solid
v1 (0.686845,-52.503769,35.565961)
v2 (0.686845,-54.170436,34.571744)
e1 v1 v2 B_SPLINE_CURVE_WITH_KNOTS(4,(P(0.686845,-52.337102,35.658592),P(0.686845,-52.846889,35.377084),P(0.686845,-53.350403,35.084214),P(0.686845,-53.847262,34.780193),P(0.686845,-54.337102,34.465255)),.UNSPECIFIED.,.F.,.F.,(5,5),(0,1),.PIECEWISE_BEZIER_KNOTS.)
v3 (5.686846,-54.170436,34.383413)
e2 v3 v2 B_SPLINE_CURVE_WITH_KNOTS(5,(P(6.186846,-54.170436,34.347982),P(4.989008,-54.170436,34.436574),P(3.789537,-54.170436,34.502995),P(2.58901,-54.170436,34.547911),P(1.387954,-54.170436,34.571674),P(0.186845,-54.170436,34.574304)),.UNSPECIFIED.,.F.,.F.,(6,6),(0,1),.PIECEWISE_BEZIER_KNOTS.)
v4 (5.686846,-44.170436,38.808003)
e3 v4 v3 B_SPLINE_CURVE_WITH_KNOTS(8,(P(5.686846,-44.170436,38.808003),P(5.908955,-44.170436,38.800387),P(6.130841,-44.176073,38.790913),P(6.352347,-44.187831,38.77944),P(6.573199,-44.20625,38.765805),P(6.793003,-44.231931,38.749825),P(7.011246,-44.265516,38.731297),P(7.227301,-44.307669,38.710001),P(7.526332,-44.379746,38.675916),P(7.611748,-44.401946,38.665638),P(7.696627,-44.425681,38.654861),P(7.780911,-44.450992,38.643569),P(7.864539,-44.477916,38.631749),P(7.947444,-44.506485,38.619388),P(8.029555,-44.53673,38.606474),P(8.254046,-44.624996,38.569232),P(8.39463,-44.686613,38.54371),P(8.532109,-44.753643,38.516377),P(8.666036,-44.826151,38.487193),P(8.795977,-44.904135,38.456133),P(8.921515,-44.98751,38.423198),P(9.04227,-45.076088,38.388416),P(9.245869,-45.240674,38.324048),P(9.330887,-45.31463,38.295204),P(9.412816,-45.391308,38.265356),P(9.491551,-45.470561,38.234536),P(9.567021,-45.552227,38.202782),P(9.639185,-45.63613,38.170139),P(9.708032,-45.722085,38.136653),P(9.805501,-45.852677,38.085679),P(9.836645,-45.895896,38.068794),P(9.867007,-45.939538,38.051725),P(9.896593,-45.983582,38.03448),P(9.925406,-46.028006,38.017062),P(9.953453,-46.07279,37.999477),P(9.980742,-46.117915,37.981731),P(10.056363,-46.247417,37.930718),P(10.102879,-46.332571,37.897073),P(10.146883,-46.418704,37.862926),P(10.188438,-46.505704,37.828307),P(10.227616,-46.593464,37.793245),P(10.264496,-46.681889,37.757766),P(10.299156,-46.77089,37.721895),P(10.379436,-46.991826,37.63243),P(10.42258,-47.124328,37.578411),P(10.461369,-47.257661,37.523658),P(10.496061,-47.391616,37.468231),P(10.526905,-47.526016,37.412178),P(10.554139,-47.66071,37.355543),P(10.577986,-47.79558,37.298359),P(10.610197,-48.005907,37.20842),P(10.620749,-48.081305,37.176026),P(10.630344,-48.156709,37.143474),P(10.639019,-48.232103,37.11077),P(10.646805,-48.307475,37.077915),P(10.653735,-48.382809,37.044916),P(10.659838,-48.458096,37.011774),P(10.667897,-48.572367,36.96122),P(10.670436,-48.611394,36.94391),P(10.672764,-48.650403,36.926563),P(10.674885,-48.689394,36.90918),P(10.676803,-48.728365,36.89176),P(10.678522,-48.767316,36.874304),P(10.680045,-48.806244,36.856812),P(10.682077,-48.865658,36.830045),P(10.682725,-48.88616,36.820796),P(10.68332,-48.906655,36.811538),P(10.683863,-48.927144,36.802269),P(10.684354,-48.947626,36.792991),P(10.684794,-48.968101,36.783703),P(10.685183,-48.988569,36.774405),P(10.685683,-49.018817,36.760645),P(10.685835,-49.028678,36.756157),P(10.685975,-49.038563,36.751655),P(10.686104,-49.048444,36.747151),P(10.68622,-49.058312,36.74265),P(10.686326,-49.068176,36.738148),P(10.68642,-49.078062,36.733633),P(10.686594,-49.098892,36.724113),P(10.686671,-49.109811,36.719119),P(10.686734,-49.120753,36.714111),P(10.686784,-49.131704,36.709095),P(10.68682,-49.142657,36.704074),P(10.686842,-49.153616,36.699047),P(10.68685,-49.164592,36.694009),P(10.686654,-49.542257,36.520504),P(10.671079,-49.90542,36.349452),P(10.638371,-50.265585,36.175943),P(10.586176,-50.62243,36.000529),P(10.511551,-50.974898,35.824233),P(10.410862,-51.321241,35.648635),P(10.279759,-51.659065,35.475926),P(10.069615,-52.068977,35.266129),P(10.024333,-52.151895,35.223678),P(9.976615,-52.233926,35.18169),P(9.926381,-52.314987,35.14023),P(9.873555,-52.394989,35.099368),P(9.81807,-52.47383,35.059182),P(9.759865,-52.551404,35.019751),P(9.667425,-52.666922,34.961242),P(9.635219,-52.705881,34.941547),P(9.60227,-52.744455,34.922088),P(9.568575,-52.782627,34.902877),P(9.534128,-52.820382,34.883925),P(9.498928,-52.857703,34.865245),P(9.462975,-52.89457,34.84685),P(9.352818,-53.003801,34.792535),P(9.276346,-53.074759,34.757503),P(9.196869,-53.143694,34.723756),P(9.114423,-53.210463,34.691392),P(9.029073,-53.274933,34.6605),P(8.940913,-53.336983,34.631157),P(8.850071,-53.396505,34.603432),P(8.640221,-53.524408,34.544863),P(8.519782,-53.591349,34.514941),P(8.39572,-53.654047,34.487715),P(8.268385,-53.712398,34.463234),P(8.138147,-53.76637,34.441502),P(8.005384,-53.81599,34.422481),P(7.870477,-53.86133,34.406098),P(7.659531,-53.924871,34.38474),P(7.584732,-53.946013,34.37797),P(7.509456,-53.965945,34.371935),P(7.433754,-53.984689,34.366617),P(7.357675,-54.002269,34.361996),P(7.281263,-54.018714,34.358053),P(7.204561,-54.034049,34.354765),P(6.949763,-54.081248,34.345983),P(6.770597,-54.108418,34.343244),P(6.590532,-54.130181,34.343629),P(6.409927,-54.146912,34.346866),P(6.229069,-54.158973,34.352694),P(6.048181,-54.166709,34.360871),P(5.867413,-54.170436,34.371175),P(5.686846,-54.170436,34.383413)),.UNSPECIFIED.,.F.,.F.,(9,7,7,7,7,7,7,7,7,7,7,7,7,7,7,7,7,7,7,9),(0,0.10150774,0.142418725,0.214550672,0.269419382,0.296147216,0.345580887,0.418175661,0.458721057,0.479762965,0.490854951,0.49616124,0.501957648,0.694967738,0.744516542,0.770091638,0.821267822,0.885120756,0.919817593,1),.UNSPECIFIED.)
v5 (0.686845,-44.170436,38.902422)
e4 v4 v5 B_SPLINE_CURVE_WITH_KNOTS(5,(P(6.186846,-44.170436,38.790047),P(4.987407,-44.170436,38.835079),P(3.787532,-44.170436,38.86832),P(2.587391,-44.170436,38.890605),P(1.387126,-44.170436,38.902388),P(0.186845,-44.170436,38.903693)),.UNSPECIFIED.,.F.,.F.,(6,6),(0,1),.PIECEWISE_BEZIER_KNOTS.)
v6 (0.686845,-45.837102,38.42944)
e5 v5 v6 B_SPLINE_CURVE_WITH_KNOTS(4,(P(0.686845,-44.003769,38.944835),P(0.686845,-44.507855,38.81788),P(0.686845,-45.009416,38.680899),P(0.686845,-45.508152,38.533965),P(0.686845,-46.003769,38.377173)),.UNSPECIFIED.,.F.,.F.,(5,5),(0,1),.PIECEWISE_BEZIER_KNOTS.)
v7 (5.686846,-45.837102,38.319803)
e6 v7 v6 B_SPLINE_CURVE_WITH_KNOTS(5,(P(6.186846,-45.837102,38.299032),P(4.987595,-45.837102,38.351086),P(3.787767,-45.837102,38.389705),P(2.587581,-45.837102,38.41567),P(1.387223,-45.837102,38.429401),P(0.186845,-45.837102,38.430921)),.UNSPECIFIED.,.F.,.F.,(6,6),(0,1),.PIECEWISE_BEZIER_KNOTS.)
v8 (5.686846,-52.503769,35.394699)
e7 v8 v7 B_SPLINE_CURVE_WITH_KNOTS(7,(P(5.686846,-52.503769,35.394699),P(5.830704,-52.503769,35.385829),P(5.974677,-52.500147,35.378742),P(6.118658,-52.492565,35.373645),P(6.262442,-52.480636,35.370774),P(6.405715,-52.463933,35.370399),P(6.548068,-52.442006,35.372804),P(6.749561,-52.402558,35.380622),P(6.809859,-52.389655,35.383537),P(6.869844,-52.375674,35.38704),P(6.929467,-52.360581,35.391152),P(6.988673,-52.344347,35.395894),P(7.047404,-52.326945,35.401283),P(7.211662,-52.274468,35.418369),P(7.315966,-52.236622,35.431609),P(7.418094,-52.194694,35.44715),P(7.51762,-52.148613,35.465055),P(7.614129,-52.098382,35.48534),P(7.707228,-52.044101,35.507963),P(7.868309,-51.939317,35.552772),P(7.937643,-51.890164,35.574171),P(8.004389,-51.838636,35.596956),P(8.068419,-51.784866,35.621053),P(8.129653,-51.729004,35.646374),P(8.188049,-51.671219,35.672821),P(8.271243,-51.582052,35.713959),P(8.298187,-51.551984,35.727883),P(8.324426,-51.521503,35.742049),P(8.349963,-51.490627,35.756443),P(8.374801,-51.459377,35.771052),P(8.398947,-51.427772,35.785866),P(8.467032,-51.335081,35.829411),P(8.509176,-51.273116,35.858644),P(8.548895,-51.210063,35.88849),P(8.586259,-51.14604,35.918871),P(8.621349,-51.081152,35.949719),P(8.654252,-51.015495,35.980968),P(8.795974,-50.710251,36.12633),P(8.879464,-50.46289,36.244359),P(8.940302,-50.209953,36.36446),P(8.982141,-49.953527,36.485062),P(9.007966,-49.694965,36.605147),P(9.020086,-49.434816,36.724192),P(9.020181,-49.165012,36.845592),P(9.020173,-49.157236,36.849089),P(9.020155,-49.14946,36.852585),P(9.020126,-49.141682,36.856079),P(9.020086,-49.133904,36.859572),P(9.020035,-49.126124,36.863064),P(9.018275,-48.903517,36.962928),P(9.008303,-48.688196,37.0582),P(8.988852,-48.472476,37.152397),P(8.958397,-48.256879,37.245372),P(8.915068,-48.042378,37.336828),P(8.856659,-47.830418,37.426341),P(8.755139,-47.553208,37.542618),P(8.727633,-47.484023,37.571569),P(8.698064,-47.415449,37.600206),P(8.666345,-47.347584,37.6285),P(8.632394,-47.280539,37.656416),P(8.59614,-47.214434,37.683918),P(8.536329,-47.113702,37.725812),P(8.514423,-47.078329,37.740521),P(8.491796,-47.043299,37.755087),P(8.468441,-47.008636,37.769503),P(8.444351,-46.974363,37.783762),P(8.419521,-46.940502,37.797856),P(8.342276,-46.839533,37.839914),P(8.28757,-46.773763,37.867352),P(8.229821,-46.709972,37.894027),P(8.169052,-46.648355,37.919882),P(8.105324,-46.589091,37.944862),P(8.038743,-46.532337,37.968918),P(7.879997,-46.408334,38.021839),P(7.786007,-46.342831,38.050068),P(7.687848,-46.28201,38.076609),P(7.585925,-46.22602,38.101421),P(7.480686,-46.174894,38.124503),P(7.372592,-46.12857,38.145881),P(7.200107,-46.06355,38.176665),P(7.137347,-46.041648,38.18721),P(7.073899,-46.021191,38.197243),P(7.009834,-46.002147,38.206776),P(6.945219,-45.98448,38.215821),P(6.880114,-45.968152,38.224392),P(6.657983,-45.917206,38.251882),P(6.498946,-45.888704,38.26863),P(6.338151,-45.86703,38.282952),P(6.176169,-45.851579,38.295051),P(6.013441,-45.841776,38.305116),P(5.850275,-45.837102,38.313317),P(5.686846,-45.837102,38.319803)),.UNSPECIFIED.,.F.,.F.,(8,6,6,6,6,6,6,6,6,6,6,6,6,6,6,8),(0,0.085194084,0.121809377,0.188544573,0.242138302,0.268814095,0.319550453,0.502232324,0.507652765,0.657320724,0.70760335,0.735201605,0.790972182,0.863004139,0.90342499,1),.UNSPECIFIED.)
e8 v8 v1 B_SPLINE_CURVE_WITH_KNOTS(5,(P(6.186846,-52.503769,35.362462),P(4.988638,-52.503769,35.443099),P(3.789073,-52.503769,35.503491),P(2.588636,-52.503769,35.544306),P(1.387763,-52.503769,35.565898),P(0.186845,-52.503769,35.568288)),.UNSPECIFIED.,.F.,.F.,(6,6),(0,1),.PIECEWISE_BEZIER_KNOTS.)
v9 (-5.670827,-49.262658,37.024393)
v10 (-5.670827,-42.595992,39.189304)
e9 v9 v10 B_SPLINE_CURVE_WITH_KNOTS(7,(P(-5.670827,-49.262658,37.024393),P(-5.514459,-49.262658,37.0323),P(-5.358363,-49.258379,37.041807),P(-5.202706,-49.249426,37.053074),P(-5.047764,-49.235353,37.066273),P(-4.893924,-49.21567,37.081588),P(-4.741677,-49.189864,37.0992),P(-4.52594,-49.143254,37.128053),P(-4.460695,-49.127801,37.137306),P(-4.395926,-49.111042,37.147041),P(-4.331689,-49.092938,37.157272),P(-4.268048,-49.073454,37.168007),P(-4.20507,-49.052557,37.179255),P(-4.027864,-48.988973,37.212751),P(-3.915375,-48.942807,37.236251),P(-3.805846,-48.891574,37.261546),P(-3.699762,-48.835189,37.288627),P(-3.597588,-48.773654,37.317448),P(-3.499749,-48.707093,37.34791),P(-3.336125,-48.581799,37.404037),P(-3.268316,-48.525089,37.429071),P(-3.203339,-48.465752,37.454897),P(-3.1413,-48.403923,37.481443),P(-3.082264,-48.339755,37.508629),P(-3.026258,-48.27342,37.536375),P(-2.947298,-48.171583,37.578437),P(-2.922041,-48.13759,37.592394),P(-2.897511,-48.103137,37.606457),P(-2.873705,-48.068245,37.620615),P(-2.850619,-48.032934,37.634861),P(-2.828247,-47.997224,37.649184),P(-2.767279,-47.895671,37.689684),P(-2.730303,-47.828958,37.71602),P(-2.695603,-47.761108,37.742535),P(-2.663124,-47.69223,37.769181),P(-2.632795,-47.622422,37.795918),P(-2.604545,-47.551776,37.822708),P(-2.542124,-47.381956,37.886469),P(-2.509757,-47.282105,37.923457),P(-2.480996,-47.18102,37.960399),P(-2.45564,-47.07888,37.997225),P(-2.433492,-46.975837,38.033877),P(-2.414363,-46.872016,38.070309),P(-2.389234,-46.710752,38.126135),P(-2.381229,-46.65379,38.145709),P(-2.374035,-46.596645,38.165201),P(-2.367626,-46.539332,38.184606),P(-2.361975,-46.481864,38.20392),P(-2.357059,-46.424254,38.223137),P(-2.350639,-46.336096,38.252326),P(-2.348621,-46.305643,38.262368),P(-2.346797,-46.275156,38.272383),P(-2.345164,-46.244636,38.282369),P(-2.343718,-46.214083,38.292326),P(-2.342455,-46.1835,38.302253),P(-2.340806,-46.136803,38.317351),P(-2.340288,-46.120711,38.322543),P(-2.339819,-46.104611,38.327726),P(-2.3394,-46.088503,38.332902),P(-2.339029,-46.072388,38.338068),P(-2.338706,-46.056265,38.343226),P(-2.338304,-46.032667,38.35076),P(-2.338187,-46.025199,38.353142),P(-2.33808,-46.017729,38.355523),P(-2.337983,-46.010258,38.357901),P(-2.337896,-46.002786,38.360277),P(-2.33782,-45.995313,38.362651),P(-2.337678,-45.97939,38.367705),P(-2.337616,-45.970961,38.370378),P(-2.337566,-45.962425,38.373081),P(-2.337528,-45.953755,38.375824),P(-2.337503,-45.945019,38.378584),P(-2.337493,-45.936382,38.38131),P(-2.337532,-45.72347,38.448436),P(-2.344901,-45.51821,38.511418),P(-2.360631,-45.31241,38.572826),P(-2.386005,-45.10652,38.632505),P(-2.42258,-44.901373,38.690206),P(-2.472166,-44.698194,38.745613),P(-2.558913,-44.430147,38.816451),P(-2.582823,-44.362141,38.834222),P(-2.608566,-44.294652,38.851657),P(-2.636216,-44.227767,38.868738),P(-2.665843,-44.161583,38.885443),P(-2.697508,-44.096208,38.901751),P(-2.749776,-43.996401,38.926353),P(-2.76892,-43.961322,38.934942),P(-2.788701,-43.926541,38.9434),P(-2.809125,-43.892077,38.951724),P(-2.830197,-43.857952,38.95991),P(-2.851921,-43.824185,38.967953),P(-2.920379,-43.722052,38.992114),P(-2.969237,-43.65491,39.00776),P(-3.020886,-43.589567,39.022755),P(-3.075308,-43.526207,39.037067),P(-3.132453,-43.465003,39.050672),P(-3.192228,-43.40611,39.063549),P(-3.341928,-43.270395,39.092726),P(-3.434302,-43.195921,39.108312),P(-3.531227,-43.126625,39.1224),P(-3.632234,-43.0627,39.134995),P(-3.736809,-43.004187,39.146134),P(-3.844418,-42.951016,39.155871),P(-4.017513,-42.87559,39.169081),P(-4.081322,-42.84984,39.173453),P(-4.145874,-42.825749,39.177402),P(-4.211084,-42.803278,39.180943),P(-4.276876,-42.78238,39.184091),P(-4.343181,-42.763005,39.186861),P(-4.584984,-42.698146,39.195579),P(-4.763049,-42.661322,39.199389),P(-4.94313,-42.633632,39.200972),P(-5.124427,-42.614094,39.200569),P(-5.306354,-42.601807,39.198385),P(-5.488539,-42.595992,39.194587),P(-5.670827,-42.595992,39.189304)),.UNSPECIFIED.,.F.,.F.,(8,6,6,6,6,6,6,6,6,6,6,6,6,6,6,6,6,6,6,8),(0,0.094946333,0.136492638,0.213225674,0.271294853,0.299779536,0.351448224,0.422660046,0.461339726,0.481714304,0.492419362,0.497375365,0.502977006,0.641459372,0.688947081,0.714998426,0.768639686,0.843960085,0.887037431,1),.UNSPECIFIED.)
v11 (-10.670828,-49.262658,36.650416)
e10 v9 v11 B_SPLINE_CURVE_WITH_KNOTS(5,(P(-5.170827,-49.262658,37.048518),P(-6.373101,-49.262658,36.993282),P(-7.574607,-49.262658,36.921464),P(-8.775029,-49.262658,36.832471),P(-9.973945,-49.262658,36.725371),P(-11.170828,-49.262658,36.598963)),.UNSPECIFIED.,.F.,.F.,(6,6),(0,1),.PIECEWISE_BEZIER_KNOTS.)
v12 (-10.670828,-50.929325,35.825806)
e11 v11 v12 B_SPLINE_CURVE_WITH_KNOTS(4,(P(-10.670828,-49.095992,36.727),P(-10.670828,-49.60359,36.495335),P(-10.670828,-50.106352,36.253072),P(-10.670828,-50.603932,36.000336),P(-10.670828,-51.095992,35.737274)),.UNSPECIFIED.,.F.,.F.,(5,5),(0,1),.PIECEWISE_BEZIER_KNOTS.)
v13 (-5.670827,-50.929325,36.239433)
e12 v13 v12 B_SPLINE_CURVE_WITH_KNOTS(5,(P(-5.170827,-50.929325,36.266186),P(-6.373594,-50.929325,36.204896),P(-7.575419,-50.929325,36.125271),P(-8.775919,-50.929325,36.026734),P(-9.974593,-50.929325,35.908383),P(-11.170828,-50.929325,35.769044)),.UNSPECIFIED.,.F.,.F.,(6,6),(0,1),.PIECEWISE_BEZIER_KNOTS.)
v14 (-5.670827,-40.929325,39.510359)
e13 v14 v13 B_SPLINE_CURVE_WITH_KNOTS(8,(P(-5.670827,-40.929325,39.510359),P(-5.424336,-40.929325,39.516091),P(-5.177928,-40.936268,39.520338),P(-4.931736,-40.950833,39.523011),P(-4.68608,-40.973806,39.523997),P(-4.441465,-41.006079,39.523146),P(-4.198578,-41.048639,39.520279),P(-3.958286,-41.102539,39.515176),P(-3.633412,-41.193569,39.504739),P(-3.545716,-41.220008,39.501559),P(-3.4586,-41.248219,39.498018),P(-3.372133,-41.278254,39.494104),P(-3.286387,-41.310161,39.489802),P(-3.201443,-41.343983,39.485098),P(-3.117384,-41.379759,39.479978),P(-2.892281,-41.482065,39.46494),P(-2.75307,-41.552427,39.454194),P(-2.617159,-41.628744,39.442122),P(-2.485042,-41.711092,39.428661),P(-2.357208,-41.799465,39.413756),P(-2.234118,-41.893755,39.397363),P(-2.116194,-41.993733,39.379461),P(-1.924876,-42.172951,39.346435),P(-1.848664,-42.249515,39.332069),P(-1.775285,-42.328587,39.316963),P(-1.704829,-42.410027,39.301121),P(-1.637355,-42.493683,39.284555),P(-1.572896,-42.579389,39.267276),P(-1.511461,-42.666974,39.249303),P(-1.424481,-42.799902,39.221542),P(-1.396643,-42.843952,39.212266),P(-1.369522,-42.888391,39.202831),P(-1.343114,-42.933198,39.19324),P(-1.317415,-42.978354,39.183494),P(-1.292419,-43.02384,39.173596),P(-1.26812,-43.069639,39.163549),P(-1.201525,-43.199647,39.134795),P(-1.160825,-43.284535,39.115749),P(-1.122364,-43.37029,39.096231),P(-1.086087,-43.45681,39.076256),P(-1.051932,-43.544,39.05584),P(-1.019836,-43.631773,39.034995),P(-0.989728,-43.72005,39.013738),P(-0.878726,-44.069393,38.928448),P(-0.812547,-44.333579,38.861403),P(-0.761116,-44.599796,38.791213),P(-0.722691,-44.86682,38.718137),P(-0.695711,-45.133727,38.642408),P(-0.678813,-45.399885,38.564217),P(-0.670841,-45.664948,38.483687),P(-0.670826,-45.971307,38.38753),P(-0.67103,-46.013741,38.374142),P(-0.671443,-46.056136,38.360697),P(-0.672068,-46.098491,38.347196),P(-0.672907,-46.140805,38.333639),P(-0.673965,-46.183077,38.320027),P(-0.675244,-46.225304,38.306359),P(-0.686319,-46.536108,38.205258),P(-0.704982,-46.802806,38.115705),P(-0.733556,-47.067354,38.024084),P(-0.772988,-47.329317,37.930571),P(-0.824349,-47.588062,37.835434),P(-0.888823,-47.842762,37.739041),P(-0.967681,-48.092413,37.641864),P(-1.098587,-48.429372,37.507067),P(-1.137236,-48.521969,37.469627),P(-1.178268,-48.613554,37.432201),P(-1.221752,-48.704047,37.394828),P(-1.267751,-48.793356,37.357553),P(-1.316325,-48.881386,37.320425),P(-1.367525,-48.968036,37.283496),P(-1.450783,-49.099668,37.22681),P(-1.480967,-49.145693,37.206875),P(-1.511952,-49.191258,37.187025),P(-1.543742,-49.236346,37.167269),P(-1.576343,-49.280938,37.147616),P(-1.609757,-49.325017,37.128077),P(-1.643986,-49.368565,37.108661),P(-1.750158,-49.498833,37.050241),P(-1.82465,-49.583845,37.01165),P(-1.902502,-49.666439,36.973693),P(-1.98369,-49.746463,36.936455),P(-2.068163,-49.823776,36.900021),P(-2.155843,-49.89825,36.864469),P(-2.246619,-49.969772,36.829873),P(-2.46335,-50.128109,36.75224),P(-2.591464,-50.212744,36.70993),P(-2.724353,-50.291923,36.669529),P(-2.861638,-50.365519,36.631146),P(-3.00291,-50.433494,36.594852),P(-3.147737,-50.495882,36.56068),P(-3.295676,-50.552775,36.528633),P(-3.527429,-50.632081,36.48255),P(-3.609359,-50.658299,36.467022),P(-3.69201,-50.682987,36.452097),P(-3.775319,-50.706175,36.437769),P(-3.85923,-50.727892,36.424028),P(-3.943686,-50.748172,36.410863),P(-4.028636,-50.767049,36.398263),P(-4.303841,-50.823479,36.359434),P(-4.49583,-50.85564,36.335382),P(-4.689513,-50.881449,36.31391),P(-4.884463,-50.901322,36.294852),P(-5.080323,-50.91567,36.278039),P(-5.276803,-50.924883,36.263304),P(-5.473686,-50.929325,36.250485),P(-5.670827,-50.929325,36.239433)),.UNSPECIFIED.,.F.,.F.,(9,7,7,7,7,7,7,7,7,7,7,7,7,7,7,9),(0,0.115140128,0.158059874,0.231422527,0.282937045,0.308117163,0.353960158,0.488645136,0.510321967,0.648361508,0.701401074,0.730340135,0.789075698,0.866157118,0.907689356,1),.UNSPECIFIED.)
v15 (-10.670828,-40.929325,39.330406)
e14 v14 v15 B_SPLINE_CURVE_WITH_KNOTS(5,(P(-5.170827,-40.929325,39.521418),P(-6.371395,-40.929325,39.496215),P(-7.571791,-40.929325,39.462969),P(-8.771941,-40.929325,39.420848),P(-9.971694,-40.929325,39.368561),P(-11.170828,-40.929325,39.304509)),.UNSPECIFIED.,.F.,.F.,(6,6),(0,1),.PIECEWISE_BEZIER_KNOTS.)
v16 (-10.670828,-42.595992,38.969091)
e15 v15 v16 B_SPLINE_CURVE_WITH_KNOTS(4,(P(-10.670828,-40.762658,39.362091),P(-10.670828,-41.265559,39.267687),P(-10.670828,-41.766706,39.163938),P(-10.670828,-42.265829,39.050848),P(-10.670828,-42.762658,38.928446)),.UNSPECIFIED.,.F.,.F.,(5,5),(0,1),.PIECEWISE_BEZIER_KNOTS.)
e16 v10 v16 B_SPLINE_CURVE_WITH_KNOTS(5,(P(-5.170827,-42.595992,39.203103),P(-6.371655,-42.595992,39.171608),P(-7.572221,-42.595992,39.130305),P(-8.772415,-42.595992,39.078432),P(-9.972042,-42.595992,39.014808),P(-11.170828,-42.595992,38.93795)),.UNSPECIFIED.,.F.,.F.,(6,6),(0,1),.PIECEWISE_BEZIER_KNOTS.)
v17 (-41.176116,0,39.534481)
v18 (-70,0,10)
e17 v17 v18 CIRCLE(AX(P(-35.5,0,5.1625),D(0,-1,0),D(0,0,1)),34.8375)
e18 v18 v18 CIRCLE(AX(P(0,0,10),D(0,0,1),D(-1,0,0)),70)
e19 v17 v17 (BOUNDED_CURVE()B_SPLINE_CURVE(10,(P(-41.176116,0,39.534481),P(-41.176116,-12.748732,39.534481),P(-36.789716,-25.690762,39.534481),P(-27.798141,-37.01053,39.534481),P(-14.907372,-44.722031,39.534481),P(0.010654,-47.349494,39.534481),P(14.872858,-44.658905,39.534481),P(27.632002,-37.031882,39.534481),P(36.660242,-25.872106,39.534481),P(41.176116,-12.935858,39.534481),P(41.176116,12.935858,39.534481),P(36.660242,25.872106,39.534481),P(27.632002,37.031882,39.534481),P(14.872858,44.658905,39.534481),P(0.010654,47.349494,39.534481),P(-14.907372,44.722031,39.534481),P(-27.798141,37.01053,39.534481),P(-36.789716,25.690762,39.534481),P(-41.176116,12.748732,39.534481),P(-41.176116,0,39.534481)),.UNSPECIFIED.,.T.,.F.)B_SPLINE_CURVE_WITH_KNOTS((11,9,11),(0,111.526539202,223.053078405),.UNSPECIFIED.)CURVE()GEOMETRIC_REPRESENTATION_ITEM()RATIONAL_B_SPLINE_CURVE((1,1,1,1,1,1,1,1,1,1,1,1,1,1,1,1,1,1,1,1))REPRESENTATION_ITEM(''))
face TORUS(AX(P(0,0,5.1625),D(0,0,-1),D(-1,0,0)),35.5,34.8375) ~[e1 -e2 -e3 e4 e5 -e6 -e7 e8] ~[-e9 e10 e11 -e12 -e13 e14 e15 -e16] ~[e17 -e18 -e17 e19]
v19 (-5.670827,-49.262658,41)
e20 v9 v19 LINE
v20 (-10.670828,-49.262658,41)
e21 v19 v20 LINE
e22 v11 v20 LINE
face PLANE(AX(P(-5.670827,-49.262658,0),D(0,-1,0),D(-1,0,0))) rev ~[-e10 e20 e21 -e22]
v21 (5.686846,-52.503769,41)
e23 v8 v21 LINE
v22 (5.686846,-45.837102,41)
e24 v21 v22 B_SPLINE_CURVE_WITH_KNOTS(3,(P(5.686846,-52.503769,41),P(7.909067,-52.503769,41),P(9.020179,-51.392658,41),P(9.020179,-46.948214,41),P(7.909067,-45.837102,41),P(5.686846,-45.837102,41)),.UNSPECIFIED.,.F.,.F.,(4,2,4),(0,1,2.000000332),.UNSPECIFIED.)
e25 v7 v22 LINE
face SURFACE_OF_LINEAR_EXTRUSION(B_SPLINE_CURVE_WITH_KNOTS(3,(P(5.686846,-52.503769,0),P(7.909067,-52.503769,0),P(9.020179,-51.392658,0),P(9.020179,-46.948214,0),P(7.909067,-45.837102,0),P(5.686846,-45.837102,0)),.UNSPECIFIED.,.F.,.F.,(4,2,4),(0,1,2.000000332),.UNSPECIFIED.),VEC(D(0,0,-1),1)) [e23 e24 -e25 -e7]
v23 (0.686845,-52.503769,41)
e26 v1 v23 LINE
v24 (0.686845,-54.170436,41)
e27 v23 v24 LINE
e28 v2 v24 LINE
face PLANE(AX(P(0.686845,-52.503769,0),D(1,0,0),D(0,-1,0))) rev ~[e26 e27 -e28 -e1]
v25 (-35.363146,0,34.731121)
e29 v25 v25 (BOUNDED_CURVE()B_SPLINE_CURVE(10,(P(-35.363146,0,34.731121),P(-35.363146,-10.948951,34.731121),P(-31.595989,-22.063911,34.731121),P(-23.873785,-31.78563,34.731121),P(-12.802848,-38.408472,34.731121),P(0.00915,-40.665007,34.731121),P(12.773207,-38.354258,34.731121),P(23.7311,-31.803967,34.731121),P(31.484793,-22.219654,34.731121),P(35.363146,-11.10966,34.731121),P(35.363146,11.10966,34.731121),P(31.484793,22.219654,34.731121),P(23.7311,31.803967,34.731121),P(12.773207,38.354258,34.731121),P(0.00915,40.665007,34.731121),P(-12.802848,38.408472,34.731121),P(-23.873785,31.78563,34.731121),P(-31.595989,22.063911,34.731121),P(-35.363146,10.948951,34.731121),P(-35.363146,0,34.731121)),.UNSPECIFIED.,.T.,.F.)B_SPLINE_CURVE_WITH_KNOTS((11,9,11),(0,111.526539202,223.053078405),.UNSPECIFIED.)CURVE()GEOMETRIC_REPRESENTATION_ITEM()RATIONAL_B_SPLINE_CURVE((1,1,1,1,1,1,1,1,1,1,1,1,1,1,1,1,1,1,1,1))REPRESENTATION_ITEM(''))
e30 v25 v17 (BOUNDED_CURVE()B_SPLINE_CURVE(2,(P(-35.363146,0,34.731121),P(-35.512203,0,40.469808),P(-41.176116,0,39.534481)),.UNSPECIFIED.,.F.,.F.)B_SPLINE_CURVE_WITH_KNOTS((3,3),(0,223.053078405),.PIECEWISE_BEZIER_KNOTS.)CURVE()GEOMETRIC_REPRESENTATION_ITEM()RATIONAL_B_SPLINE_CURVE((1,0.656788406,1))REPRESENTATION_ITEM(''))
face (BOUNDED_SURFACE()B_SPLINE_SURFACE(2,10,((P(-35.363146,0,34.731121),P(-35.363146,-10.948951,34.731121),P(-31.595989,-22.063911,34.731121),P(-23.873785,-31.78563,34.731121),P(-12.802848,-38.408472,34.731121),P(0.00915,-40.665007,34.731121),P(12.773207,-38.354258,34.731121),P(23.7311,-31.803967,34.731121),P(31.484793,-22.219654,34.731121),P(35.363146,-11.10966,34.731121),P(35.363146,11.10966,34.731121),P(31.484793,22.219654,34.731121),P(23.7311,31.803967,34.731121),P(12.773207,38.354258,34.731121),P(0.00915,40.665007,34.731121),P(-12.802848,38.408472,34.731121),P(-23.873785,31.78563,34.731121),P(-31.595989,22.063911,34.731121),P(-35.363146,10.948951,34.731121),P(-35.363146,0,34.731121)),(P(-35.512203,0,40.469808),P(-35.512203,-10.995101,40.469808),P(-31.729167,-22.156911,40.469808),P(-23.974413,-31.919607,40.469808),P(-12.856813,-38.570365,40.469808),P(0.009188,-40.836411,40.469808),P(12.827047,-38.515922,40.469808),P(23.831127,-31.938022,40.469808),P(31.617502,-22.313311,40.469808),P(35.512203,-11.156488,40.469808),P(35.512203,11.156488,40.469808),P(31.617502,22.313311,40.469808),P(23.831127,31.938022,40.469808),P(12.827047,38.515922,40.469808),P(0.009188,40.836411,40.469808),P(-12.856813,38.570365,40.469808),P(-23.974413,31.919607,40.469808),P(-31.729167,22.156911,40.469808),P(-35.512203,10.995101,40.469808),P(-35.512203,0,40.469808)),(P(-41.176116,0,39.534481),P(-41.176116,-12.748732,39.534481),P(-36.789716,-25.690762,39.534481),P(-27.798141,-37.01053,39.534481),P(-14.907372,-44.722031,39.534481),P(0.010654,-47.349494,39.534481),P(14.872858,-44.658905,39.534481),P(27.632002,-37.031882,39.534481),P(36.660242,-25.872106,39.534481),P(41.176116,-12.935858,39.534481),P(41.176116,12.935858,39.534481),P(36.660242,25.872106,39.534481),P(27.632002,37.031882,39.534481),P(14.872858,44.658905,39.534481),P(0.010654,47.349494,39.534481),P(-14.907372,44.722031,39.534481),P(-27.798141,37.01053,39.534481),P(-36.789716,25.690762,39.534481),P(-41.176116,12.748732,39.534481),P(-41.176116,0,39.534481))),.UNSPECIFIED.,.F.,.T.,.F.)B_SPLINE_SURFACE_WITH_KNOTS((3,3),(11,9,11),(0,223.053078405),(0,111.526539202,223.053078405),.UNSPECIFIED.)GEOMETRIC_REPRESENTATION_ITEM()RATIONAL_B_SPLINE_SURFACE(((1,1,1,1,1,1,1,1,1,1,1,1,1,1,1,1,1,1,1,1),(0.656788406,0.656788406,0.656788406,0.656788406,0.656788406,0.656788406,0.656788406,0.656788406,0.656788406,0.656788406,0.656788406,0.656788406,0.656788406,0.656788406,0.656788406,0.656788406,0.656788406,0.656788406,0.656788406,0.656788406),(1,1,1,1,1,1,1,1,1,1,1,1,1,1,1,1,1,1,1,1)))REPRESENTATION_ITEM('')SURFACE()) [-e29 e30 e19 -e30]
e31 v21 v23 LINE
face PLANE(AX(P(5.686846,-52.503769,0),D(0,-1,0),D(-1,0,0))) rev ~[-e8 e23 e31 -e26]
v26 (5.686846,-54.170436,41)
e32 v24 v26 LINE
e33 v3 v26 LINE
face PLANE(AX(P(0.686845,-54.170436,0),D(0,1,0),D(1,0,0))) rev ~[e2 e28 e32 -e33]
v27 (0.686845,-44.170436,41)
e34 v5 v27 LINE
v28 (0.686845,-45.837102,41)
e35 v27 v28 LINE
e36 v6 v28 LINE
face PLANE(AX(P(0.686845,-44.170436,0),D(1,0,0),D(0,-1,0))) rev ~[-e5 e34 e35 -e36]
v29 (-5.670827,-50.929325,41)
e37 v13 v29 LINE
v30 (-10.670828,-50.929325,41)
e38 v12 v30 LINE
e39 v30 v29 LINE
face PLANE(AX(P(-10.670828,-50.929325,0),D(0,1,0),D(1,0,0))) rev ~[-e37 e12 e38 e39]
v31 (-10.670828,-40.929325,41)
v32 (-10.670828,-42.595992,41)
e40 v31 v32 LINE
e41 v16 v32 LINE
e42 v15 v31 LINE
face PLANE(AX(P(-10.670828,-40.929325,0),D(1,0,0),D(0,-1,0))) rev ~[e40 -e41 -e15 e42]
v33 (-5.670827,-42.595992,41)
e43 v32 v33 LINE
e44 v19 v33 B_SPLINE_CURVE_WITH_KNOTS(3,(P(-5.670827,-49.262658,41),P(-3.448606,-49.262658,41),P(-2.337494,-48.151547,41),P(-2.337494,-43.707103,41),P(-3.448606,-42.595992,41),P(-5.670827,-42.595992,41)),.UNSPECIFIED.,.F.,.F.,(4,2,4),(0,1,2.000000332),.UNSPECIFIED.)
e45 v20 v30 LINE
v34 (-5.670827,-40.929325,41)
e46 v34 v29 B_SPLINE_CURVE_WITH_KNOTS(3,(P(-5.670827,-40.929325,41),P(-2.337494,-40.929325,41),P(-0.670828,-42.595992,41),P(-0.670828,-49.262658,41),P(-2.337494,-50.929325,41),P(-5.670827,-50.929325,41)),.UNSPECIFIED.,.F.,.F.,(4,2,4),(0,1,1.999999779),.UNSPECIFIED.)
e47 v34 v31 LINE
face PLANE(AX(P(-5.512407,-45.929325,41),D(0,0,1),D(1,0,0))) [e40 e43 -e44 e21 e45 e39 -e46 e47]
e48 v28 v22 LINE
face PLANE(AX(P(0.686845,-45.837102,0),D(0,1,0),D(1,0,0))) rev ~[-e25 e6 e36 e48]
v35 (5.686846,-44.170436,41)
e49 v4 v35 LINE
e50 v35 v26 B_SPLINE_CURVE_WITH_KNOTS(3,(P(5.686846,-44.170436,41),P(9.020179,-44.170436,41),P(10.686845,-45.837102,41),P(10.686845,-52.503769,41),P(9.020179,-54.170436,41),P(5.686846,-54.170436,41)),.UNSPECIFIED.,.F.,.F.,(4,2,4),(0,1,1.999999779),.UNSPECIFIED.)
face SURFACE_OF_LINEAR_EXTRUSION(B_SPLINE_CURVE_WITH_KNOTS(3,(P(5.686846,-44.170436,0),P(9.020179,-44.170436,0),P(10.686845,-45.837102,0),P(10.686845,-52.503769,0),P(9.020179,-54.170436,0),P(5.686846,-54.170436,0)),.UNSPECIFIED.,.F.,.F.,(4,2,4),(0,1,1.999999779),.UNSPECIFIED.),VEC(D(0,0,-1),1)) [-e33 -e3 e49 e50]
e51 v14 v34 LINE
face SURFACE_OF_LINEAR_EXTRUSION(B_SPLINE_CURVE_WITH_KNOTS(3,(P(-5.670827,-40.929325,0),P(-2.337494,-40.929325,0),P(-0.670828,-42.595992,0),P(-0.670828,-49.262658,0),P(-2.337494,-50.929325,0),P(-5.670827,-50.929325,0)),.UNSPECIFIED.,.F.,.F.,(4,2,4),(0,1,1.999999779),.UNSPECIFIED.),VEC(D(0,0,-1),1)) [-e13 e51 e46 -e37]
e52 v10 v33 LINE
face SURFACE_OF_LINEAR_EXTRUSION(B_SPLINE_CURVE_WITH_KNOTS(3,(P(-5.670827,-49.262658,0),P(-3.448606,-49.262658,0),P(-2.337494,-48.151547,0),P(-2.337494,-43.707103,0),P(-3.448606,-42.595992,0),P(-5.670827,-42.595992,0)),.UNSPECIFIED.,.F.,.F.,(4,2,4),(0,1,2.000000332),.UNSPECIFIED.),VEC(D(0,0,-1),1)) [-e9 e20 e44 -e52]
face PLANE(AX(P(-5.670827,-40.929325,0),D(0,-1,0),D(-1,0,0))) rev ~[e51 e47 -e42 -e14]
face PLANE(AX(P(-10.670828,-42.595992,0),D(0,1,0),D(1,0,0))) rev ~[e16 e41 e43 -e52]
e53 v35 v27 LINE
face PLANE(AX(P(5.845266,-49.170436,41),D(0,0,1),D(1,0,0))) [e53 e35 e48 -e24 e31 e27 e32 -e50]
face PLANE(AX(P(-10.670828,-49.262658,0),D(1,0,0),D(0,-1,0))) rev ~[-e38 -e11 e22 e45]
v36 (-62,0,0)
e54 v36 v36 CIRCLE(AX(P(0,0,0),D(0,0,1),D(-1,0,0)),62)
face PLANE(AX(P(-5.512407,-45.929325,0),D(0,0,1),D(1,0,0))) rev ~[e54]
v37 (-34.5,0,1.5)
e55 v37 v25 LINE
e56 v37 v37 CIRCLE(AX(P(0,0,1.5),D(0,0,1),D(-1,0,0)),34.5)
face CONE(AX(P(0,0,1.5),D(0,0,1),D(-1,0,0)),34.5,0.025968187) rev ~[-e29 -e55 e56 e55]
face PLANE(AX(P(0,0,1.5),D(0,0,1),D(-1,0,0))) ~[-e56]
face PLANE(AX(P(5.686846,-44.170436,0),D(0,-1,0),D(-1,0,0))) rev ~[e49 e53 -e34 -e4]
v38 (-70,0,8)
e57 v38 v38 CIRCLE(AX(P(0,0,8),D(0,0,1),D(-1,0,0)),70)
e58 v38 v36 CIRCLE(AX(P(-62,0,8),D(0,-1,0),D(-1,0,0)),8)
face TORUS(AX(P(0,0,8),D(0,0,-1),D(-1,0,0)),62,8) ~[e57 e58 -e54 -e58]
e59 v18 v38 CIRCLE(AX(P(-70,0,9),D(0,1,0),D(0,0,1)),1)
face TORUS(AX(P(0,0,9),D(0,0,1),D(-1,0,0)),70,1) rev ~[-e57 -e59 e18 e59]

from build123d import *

# Parameters (mm, degrees)
F2_R     = 5
F4_DEPTH = 41


with BuildPart() as f1:
    # F0 (on Front) → F1 (revolve)
    with BuildSketch(Plane.XZ):
        with BuildLine():
            Line((-62, 0), (0, 0))
            Line((0, 0), (0, 1.5))
            Line((0, 1.5), (-34.5, 1.5))
            Line((-34.5, 1.5), (-35.5, 40))
            ThreePointArc((-35.5, 40), (-58.3596259812, 31.4510698784), (-70, 10))
            ThreePointArc((-70, 10), (-69, 9), (-70, 8))
            ThreePointArc((-70, 8), (-67.6568542495, 2.3431457505), (-62, 0))
        make_face()
    revolve(axis=Axis((0, 0, 0.75), (0, 0, 1)))

    # F2
    f2_edges = [f1.edges().sort_by_distance(p)[0] for p in [
        (35.5, 0, 40),
    ]]
    fillet(f2_edges, radius=F2_R)

    # F3 (on Top) → F4 (join)
    with BuildSketch(Plane.XY):
        with BuildLine():
            Line((-10.670827581, -42.5959917847), (-5.6708272125, -42.5959917847))
            add(Edge.make_bspline(
                [(-2.3374943705, -45.9293253637), (-2.3374943705, -43.7071029777), (-3.4486055635, -42.5959917847), (-5.6708272125, -42.5959917847)],
                knots=[0, 0, 0, 0, 1, 1, 1, 1], degree=3))
            add(Edge.make_bspline(
                [(-5.6708272125, -49.2626582057), (-3.4486055635, -49.2626582057), (-2.3374943705, -48.1515470127), (-2.3374943705, -45.9293253637)],
                knots=[0, 0, 0, 0, 1, 1, 1, 1], degree=3))
            Line((-5.6708272125, -49.2626582057), (-10.670827581, -49.2626582057))
            Line((-10.670827581, -49.2626582057), (-10.670827581, -50.9293249952))
            Line((-10.670827581, -50.9293249952), (-5.6708272125, -50.9293249952))
            add(Edge.make_bspline(
                [(-0.670827581, -45.9293253637), (-0.670827581, -49.2626582057), (-2.3374943705, -50.9293249952), (-5.6708272125, -50.9293249952)],
                knots=[0, 0, 0, 0, 1, 1, 1, 1], degree=3))
            add(Edge.make_bspline(
                [(-5.6708272125, -40.9293249952), (-2.3374943705, -40.9293249952), (-0.670827581, -42.5959917847), (-0.670827581, -45.9293253637)],
                knots=[0, 0, 0, 0, 1, 1, 1, 1], degree=3))
            Line((-5.6708272125, -40.9293249952), (-10.670827581, -40.9293249952))
            Line((-10.670827581, -40.9293249952), (-10.670827581, -42.5959917847))
        make_face()
        with BuildLine():
            Line((0.6868453929, -45.8371023778), (5.6868457614, -45.8371023778))
            add(Edge.make_bspline(
                [(9.0201786034, -49.1704359568), (9.0201786034, -46.9482135708), (7.9090674104, -45.8371023778), (5.6868457614, -45.8371023778)],
                knots=[0, 0, 0, 0, 1, 1, 1, 1], degree=3))
            add(Edge.make_bspline(
                [(5.6868457614, -52.5037687988), (7.9090674104, -52.5037687988), (9.0201786034, -51.3926576058), (9.0201786034, -49.1704359568)],
                knots=[0, 0, 0, 0, 1, 1, 1, 1], degree=3))
            Line((5.6868457614, -52.5037687988), (0.6868453929, -52.5037687988))
            Line((0.6868453929, -52.5037687988), (0.6868453929, -54.1704355883))
            Line((0.6868453929, -54.1704355883), (5.6868457614, -54.1704355883))
            add(Edge.make_bspline(
                [(10.6868453929, -49.1704359568), (10.6868453929, -52.5037687988), (9.0201786034, -54.1704355883), (5.6868457614, -54.1704355883)],
                knots=[0, 0, 0, 0, 1, 1, 1, 1], degree=3))
            add(Edge.make_bspline(
                [(5.6868457614, -44.1704355883), (9.0201786034, -44.1704355883), (10.6868453929, -45.8371023778), (10.6868453929, -49.1704359568)],
                knots=[0, 0, 0, 0, 1, 1, 1, 1], degree=3))
            Line((5.6868457614, -44.1704355883), (0.6868453929, -44.1704355883))
            Line((0.6868453929, -44.1704355883), (0.6868453929, -45.8371023778))
        make_face()
    extrude(amount=F4_DEPTH)


solid = f1.part
